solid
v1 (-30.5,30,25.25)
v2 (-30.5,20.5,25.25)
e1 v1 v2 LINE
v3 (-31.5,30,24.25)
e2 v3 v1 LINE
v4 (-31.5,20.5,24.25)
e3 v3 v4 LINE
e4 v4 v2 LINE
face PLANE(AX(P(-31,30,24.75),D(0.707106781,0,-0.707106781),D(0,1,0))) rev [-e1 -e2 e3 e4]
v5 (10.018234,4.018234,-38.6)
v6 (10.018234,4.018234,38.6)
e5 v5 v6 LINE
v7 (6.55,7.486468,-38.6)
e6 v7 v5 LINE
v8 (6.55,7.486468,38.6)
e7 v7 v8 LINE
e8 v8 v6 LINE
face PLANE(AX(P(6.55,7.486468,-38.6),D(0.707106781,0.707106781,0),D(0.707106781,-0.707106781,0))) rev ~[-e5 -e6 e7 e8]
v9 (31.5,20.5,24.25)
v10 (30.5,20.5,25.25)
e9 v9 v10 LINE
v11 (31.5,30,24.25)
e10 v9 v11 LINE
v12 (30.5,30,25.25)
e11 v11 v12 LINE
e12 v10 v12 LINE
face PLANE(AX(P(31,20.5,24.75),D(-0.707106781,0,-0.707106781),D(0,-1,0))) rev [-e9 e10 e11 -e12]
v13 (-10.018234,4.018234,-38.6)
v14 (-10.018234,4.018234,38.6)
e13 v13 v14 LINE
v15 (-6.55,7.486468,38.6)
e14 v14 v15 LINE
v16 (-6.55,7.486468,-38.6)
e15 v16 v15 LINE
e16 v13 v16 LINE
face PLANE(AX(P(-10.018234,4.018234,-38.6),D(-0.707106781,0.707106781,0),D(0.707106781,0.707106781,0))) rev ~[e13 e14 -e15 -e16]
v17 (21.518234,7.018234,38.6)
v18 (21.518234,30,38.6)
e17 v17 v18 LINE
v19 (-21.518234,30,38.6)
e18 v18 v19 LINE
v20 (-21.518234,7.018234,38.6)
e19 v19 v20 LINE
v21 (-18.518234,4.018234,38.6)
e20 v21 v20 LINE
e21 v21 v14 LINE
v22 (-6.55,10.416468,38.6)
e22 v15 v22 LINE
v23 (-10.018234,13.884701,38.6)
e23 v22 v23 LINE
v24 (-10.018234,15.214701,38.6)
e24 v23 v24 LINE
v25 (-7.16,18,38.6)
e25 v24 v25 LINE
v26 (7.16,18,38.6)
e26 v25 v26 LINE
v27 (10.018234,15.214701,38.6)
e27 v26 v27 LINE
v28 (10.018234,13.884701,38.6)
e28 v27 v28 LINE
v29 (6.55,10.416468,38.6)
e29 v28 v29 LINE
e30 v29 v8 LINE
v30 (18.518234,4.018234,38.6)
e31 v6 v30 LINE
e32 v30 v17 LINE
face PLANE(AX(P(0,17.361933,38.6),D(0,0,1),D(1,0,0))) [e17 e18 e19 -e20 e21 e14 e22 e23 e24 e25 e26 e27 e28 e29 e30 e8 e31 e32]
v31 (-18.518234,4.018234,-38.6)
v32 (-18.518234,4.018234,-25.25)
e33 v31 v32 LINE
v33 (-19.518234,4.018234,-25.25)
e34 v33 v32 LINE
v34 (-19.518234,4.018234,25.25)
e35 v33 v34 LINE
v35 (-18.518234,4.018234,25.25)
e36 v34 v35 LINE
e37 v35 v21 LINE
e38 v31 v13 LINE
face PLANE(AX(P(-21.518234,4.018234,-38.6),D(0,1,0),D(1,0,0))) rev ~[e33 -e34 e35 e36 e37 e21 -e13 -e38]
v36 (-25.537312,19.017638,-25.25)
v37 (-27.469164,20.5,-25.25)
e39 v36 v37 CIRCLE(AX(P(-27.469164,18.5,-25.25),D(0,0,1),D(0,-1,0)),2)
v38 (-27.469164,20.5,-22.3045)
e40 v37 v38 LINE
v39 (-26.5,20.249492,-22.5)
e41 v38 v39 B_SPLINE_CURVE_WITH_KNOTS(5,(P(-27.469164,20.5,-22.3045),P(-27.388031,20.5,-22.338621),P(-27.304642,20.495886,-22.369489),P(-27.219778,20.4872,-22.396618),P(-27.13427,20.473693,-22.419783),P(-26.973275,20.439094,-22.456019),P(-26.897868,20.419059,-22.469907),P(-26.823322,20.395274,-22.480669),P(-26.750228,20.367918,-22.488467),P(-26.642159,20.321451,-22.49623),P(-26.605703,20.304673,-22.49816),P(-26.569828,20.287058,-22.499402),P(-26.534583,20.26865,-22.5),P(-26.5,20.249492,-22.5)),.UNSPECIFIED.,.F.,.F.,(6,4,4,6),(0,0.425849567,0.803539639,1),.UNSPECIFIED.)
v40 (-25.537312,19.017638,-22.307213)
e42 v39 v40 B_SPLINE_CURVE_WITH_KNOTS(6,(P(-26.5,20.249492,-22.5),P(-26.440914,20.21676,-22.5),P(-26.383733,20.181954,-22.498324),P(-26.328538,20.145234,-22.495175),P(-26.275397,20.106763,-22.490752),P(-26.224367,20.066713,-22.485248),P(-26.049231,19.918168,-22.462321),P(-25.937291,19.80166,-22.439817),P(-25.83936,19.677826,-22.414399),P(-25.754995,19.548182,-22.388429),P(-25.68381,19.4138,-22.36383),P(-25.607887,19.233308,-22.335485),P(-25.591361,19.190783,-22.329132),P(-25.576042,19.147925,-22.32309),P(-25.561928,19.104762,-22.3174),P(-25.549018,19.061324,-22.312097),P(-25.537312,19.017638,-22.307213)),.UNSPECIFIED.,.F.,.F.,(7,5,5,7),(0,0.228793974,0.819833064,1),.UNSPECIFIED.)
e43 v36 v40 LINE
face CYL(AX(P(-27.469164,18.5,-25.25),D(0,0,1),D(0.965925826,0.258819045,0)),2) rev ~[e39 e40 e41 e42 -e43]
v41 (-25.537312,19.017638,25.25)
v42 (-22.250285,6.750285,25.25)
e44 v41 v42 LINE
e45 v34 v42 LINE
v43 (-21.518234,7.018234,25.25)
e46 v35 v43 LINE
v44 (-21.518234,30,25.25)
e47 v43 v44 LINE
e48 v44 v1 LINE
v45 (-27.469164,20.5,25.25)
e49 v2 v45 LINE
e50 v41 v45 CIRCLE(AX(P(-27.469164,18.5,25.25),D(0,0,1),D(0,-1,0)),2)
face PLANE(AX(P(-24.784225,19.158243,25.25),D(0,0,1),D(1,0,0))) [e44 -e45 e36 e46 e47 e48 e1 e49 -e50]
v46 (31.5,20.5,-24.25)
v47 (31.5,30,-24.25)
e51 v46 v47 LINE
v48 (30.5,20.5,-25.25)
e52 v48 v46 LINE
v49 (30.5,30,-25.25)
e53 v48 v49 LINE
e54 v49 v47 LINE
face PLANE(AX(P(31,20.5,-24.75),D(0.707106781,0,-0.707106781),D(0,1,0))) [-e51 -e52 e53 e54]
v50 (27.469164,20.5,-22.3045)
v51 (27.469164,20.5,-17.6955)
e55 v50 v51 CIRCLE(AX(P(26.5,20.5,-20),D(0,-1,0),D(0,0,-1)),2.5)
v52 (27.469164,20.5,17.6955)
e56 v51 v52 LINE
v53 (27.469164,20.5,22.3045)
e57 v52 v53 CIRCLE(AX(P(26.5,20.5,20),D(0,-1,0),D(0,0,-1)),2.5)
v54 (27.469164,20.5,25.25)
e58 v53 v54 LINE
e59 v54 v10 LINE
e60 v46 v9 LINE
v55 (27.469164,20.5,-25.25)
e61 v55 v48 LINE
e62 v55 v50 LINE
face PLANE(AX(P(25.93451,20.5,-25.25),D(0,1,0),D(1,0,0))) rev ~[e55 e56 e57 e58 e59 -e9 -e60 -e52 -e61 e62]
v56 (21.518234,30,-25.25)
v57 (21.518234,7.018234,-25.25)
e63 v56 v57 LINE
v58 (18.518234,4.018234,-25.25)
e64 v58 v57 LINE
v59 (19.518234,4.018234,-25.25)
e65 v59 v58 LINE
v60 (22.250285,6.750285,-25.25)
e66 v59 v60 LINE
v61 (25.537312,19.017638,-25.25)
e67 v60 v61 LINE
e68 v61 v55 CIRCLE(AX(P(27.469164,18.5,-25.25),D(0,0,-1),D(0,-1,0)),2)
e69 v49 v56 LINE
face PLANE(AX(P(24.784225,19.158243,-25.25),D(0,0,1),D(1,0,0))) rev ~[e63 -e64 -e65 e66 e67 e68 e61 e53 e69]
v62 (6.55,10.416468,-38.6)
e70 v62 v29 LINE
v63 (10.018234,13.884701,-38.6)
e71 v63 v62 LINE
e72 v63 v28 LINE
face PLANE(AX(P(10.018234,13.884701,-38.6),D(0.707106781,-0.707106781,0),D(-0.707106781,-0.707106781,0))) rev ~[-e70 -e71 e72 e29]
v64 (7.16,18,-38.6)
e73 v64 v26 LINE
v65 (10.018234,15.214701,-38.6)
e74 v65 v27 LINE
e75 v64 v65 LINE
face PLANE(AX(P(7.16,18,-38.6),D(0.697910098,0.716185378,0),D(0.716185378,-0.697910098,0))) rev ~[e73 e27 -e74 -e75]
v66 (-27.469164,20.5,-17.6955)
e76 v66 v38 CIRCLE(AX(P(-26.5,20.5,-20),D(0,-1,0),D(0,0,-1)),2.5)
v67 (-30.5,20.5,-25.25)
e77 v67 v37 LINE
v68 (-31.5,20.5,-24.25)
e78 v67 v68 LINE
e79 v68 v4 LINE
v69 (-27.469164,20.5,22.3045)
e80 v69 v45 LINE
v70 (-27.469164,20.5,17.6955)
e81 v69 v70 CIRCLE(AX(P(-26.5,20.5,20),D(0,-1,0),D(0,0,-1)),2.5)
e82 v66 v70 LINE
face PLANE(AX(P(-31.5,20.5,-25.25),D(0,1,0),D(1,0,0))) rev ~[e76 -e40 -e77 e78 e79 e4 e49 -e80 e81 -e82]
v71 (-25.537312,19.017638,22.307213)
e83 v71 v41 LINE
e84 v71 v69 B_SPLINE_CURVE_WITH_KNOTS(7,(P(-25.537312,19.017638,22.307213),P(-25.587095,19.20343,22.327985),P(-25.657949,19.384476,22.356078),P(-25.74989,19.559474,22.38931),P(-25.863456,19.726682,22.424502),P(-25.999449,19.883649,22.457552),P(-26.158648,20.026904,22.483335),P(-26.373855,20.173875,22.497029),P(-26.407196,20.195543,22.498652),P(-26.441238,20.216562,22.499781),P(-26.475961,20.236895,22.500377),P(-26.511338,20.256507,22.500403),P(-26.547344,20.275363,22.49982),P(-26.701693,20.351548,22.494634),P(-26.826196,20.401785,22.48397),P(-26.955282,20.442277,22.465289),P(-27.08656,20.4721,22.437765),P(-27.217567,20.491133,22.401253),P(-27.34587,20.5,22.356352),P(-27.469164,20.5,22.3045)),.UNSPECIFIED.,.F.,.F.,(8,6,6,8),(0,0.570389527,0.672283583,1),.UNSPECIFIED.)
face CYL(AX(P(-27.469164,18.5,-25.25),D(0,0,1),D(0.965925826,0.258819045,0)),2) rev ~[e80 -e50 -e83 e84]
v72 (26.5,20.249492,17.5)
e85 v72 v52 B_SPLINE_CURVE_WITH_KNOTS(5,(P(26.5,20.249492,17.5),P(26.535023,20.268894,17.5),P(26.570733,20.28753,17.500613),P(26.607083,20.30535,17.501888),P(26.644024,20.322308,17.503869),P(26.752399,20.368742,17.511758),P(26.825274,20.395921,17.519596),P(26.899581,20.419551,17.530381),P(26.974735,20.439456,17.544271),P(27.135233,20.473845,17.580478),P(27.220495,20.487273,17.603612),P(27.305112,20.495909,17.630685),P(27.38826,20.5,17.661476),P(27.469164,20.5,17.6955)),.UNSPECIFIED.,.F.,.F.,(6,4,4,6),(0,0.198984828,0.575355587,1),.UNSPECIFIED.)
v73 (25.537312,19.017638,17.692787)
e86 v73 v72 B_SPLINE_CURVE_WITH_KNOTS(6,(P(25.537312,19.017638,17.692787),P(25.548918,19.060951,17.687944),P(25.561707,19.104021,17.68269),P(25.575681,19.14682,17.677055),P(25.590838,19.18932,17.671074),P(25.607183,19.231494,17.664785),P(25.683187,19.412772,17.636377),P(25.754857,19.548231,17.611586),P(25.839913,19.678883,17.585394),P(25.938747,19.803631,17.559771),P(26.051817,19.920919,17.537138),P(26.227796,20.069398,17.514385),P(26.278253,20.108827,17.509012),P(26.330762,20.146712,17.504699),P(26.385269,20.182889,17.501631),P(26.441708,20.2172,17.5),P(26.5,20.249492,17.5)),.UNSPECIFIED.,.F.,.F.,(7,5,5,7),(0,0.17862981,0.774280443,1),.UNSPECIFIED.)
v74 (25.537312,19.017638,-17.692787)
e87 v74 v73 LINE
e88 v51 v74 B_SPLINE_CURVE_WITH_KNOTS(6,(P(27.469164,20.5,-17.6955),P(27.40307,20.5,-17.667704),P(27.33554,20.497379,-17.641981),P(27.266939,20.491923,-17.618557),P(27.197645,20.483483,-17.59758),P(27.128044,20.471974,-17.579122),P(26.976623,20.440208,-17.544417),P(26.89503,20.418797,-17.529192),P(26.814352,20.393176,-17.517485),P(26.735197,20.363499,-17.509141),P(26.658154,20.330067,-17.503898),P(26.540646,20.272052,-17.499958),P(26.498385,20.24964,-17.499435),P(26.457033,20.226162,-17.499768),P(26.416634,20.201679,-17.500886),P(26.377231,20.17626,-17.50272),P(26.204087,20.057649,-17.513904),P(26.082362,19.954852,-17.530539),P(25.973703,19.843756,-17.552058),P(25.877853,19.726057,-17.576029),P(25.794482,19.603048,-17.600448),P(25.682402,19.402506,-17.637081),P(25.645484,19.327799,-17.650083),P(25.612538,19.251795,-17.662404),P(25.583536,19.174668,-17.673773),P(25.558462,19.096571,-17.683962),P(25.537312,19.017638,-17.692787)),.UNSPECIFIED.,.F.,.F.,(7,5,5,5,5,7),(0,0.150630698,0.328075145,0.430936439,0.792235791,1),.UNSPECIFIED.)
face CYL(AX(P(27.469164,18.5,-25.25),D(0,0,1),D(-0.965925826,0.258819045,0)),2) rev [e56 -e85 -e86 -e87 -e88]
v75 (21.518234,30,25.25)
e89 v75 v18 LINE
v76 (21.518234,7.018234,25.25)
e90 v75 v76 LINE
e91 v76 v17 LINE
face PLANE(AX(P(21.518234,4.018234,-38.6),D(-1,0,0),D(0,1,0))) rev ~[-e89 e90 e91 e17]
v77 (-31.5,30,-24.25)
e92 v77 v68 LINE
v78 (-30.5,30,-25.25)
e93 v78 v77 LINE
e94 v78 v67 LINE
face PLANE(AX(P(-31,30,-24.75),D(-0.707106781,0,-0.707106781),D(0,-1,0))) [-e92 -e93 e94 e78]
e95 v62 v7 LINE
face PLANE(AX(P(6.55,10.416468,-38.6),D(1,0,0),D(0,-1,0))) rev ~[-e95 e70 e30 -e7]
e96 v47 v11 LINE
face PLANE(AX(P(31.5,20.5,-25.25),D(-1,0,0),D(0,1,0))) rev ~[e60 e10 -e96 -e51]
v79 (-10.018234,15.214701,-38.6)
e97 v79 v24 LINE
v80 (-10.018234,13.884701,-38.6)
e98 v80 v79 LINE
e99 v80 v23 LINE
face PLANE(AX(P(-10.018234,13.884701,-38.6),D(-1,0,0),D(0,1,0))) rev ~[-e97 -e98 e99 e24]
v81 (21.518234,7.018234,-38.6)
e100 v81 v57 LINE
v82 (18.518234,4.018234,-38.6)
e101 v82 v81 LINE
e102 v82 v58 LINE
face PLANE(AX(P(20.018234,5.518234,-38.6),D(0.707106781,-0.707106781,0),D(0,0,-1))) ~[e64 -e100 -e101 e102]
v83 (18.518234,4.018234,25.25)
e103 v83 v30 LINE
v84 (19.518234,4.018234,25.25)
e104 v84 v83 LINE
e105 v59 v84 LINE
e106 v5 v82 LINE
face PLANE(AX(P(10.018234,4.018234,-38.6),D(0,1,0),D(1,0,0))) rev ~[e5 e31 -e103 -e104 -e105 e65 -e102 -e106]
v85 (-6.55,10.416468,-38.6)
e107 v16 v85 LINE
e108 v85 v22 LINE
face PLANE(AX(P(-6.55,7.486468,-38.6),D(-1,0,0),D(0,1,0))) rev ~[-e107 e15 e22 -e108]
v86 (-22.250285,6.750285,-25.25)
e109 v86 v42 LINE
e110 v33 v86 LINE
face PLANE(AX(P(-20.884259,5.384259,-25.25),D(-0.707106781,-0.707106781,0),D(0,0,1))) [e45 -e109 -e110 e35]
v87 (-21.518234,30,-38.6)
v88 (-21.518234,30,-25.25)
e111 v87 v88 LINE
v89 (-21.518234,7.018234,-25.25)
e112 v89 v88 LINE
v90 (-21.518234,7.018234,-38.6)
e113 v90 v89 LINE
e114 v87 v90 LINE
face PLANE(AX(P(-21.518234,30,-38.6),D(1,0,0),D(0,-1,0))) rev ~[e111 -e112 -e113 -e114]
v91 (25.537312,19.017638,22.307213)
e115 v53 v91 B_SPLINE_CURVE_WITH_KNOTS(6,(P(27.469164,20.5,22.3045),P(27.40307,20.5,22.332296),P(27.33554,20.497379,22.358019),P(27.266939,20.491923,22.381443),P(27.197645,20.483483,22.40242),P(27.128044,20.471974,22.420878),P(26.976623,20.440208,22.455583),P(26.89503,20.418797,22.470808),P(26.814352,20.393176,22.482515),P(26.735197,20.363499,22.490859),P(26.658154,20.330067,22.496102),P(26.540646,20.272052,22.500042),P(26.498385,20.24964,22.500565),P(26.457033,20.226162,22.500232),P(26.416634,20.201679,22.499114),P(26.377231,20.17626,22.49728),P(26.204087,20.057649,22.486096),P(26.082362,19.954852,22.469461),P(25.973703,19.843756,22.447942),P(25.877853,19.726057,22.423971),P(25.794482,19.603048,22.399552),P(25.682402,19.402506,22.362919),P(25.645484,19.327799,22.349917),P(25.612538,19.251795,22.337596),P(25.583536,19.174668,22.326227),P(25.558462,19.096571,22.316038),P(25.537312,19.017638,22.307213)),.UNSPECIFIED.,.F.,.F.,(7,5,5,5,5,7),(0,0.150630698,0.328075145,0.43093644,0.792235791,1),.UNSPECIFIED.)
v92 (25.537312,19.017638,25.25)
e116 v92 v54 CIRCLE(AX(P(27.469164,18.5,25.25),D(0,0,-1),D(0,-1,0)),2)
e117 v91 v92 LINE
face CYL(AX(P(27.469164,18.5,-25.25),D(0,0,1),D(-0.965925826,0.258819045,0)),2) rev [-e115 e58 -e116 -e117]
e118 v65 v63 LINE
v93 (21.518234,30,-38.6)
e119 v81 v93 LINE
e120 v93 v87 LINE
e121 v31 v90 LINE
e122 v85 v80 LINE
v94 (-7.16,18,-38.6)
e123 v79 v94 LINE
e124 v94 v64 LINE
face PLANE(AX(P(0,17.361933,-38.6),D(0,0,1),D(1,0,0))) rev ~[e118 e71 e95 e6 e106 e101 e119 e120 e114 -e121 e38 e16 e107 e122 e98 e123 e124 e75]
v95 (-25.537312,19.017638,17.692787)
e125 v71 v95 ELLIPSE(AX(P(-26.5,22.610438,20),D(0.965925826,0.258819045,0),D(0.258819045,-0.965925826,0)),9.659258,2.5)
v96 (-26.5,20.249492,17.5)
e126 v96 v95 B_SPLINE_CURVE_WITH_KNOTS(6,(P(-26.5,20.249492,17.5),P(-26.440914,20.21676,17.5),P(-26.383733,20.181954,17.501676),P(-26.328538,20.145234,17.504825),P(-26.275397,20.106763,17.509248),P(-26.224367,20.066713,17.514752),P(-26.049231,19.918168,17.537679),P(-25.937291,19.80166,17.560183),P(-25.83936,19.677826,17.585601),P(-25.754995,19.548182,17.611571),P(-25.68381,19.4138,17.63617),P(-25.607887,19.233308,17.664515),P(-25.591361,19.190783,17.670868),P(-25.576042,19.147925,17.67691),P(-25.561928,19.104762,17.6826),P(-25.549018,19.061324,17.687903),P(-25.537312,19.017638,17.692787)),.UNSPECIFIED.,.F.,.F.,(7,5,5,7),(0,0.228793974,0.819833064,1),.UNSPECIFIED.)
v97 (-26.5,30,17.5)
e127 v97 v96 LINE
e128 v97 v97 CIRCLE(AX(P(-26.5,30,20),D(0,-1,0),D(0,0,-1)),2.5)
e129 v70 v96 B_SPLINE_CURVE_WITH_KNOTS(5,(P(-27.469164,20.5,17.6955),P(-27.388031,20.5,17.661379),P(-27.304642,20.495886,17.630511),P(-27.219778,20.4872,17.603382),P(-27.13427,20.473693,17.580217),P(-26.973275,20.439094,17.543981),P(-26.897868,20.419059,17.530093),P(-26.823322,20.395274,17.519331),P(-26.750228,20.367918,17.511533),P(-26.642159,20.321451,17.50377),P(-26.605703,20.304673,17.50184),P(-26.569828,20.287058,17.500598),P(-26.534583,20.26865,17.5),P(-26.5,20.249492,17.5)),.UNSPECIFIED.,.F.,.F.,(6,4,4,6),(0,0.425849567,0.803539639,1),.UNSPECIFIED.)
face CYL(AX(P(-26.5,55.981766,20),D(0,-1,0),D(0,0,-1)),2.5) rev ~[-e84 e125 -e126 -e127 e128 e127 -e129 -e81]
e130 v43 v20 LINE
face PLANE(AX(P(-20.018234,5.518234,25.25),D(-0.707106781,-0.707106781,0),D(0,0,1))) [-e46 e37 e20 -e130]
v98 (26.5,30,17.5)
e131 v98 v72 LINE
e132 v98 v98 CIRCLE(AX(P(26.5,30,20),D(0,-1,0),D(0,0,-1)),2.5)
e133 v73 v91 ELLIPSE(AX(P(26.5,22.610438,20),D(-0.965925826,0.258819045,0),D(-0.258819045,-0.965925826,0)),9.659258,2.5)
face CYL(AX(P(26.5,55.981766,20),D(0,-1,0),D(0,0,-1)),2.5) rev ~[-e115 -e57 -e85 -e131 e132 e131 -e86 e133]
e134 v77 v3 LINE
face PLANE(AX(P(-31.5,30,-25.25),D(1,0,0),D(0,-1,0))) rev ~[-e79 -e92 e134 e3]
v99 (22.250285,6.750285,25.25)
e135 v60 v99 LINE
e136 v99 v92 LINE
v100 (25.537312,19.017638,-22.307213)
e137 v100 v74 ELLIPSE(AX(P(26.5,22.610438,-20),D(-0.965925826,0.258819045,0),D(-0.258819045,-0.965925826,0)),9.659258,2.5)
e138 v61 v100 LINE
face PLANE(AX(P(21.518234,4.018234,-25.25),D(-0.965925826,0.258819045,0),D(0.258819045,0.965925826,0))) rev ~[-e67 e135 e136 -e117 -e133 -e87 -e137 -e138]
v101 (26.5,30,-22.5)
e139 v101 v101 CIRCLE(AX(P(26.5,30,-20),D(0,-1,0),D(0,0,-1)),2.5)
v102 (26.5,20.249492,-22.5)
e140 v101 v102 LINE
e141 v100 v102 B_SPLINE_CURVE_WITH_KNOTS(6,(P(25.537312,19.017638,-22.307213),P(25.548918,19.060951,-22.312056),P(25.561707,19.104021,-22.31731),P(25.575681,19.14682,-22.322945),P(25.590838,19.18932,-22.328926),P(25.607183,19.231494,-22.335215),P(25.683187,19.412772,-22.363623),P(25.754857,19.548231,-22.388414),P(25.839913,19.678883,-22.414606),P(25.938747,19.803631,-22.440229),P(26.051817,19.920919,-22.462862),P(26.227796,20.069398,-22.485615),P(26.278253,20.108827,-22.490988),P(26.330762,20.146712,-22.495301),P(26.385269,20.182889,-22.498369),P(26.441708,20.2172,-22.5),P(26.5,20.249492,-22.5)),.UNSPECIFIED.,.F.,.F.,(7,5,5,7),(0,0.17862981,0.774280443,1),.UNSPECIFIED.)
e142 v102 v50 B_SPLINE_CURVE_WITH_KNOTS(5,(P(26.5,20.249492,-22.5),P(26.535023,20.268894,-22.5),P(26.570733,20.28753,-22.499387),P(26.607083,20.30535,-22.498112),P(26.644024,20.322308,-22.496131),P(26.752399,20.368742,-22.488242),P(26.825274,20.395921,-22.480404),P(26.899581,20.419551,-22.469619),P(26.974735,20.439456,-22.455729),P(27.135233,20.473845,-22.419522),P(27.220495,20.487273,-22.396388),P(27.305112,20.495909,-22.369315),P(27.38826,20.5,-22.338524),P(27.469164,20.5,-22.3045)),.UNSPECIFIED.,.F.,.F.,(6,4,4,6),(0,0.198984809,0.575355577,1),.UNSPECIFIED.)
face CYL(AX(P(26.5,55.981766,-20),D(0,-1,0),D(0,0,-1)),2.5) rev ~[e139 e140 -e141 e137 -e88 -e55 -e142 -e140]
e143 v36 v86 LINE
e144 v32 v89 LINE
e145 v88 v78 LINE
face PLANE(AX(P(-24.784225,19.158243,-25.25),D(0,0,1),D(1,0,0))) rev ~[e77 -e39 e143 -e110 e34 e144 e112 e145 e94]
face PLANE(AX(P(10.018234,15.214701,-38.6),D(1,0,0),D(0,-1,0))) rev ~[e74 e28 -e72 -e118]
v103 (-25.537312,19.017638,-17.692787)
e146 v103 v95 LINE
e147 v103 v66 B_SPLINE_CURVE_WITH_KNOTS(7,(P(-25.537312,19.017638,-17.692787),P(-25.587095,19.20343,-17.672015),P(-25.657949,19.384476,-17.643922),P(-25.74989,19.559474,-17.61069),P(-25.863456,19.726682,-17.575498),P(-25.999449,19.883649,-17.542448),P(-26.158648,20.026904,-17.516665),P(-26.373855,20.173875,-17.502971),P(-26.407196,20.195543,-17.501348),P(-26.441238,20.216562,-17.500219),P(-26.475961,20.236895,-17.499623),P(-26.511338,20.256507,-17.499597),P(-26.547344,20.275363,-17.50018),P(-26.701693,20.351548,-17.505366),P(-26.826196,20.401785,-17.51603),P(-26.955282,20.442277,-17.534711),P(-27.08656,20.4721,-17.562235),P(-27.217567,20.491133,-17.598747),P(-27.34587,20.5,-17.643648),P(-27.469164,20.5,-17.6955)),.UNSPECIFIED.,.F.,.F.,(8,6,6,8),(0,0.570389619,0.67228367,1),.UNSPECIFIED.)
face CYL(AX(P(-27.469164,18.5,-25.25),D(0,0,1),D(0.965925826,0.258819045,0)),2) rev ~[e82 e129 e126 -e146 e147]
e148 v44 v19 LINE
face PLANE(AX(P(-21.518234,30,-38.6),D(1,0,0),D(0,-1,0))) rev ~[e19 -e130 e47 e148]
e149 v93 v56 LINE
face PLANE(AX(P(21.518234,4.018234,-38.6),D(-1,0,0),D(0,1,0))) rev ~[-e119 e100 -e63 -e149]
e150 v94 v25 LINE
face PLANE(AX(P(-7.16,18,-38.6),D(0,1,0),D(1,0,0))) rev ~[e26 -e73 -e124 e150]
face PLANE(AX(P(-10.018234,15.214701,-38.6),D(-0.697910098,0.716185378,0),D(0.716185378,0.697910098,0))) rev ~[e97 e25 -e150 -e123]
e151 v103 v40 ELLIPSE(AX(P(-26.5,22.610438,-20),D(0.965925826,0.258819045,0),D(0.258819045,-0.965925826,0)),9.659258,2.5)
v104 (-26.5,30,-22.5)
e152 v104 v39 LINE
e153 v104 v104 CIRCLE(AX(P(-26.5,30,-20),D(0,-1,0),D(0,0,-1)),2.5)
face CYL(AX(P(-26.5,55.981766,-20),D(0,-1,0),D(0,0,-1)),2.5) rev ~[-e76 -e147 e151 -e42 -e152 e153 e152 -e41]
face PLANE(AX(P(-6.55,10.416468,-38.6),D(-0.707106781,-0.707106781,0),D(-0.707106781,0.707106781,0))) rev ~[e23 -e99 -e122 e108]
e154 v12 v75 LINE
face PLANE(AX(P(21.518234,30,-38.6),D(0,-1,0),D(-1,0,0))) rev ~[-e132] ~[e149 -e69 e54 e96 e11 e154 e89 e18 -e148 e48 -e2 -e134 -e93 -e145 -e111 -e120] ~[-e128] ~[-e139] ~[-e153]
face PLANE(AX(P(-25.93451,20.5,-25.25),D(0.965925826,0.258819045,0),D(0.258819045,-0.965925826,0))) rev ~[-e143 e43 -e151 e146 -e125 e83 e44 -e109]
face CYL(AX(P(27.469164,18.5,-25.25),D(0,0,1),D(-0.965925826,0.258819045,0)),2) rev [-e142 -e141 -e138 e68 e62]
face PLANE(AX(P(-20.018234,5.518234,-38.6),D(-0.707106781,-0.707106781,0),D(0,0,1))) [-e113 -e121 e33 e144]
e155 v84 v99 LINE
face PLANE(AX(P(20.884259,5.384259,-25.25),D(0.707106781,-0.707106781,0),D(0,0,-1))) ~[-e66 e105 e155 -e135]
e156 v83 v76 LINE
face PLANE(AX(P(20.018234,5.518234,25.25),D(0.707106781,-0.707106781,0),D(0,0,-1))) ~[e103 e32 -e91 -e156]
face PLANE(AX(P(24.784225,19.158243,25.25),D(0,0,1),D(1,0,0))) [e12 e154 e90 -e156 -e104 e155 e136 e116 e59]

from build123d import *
from OCP.BRepFilletAPI import BRepFilletAPI_MakeChamfer

# Parameters (mm, degrees)
BOSS_EXTRUDE1_DEPTH       = 38.6
BOSS_EXTRUDE1_DEPTH_BACK  = 38.6
BOSS_EXTRUDE2_DEPTH       = 25.25
BOSS_EXTRUDE2_DEPTH_BACK  = 25.25
CHAMFER1_SIZE             = 3
CHAMFER2_SIZE             = 2
CHAMFER2_SIZE2            = 2.828427125
FILLET1_R                 = 2
M6X1_0_TAPPED_HOLE1_D     = 5
M6X1_0_TAPPED_HOLE1_DEPTH = 25.981766235
M6X1_0_TAPPED_HOLE1_TIP   = 1.502151548
CHAMFER3_SIZE             = 1


with BuildPart() as part:
    # Sketch3 → Boss-Extrude1 (new, two sides: drawn at the far end of the back side and taken through both)
    with BuildSketch(Plane.XY.offset(-BOSS_EXTRUDE1_DEPTH_BACK)):
        Polygon((-21.518233765, 4.018233765), (-10.018233765, 4.018233765), (-6.55, 7.48646753), (-6.55, 10.41646753), (-10.018233765, 13.884701295), (-10.018233765, 15.214701295), (-7.16, 18), (7.16, 18), (10.018233765, 15.214701295), (10.018233765, 13.884701295), (6.55, 10.41646753), (6.55, 7.48646753), (10.018233765, 4.018233765), (21.518233765, 4.018233765), (21.518233765, 30), (-21.518233765, 30), align=None)
    extrude(amount=BOSS_EXTRUDE1_DEPTH + BOSS_EXTRUDE1_DEPTH_BACK)

    # Sketch3<4> → Boss-Extrude2 (add, two sides: drawn at the far end of the back side and taken through both)
    with BuildSketch(Plane.XY.offset(-BOSS_EXTRUDE2_DEPTH_BACK)):
        Polygon((-25.934509717, 20.5), (-21.518233765, 4.018233765), (-21.518233765, 30), (-31.5, 30), (-31.5, 20.5), align=None)
        Polygon((21.518233765, 30), (21.518233765, 4.018233765), (25.934509717, 20.5), (31.5, 20.5), (31.5, 30), align=None)
    extrude(amount=BOSS_EXTRUDE2_DEPTH + BOSS_EXTRUDE2_DEPTH_BACK)

    # Chamfer1
    chamfer1_edges = [part.edges().sort_by_distance(p)[0] for p in [
        (21.518233765, 4.018233765, -31.925),
        (-21.518233765, 4.018233765, -31.925),
        (-21.518233765, 4.018233765, 31.925),
        (21.518233765, 4.018233765, 31.925),
    ]]
    chamfer(chamfer1_edges, length=CHAMFER1_SIZE)

    # Chamfer2: one chamfer whose edges measure the first distance from different faces: ONE call of the kernel's chamfer builder (chamfer() names one face for all edges)
    chamfer2_edges_1 = [part.edges().sort_by_distance(p)[0] for p in [
        (-21.518233765, 4.018233765, 0),
    ]]
    chamfer2_side_1 = [part.faces().sort_by_distance(p)[0] for p in [
        (-15.346759208, 4.018233765, 0),
    ]]
    chamfer2_edges_2 = [part.edges().sort_by_distance(p)[0] for p in [
        (21.518233765, 4.018233765, 0),
    ]]
    chamfer2_side_2 = [part.faces().sort_by_distance(p)[0] for p in [
        (15.346759208, 4.018233765, 0),
    ]]
    chamfer2 = BRepFilletAPI_MakeChamfer(part.part.solid().wrapped)
    for e in chamfer2_edges_1:
        chamfer2.Add(CHAMFER2_SIZE, CHAMFER2_SIZE2, e.wrapped, chamfer2_side_1[0].wrapped)  # the first distance lies on this face
    for e in chamfer2_edges_2:
        chamfer2.Add(CHAMFER2_SIZE, CHAMFER2_SIZE2, e.wrapped, chamfer2_side_2[0].wrapped)  # the first distance lies on this face
    add(Compound.cast(chamfer2.Shape()), mode=Mode.REPLACE)

    # Fillet1
    fillet1_edges = [part.edges().sort_by_distance(p)[0] for p in [
        (-25.934509717, 20.5, 0),
        (25.934509717, 20.5, 0),
    ]]
    fillet(fillet1_edges, radius=FILLET1_R)

    # M6x1.0 Tapped Hole1
    with Locations(Plane(origin=(-26.5, 30, 20), x_dir=(0, 0, 1), z_dir=(0, 1, 0))):
        with Locations((0, 0), (-40, 0), (-40, 53), (0, 53)):
            Hole(M6X1_0_TAPPED_HOLE1_D / 2, depth=M6X1_0_TAPPED_HOLE1_DEPTH)
            with Locations((0, 0, -(M6X1_0_TAPPED_HOLE1_DEPTH + M6X1_0_TAPPED_HOLE1_TIP / 2))):  # 118° drill point
                Cone(0, M6X1_0_TAPPED_HOLE1_D / 2, M6X1_0_TAPPED_HOLE1_TIP, mode=Mode.SUBTRACT)

    # Chamfer3
    chamfer3_edges = [part.edges().sort_by_distance(p)[0] for p in [
        (31.5, 25.25, 25.25),
        (-31.5, 25.25, 25.25),
        (-31.5, 25.25, -25.25),
        (31.5, 25.25, -25.25),
    ]]
    chamfer(chamfer3_edges, length=CHAMFER3_SIZE)


solid = part.part
